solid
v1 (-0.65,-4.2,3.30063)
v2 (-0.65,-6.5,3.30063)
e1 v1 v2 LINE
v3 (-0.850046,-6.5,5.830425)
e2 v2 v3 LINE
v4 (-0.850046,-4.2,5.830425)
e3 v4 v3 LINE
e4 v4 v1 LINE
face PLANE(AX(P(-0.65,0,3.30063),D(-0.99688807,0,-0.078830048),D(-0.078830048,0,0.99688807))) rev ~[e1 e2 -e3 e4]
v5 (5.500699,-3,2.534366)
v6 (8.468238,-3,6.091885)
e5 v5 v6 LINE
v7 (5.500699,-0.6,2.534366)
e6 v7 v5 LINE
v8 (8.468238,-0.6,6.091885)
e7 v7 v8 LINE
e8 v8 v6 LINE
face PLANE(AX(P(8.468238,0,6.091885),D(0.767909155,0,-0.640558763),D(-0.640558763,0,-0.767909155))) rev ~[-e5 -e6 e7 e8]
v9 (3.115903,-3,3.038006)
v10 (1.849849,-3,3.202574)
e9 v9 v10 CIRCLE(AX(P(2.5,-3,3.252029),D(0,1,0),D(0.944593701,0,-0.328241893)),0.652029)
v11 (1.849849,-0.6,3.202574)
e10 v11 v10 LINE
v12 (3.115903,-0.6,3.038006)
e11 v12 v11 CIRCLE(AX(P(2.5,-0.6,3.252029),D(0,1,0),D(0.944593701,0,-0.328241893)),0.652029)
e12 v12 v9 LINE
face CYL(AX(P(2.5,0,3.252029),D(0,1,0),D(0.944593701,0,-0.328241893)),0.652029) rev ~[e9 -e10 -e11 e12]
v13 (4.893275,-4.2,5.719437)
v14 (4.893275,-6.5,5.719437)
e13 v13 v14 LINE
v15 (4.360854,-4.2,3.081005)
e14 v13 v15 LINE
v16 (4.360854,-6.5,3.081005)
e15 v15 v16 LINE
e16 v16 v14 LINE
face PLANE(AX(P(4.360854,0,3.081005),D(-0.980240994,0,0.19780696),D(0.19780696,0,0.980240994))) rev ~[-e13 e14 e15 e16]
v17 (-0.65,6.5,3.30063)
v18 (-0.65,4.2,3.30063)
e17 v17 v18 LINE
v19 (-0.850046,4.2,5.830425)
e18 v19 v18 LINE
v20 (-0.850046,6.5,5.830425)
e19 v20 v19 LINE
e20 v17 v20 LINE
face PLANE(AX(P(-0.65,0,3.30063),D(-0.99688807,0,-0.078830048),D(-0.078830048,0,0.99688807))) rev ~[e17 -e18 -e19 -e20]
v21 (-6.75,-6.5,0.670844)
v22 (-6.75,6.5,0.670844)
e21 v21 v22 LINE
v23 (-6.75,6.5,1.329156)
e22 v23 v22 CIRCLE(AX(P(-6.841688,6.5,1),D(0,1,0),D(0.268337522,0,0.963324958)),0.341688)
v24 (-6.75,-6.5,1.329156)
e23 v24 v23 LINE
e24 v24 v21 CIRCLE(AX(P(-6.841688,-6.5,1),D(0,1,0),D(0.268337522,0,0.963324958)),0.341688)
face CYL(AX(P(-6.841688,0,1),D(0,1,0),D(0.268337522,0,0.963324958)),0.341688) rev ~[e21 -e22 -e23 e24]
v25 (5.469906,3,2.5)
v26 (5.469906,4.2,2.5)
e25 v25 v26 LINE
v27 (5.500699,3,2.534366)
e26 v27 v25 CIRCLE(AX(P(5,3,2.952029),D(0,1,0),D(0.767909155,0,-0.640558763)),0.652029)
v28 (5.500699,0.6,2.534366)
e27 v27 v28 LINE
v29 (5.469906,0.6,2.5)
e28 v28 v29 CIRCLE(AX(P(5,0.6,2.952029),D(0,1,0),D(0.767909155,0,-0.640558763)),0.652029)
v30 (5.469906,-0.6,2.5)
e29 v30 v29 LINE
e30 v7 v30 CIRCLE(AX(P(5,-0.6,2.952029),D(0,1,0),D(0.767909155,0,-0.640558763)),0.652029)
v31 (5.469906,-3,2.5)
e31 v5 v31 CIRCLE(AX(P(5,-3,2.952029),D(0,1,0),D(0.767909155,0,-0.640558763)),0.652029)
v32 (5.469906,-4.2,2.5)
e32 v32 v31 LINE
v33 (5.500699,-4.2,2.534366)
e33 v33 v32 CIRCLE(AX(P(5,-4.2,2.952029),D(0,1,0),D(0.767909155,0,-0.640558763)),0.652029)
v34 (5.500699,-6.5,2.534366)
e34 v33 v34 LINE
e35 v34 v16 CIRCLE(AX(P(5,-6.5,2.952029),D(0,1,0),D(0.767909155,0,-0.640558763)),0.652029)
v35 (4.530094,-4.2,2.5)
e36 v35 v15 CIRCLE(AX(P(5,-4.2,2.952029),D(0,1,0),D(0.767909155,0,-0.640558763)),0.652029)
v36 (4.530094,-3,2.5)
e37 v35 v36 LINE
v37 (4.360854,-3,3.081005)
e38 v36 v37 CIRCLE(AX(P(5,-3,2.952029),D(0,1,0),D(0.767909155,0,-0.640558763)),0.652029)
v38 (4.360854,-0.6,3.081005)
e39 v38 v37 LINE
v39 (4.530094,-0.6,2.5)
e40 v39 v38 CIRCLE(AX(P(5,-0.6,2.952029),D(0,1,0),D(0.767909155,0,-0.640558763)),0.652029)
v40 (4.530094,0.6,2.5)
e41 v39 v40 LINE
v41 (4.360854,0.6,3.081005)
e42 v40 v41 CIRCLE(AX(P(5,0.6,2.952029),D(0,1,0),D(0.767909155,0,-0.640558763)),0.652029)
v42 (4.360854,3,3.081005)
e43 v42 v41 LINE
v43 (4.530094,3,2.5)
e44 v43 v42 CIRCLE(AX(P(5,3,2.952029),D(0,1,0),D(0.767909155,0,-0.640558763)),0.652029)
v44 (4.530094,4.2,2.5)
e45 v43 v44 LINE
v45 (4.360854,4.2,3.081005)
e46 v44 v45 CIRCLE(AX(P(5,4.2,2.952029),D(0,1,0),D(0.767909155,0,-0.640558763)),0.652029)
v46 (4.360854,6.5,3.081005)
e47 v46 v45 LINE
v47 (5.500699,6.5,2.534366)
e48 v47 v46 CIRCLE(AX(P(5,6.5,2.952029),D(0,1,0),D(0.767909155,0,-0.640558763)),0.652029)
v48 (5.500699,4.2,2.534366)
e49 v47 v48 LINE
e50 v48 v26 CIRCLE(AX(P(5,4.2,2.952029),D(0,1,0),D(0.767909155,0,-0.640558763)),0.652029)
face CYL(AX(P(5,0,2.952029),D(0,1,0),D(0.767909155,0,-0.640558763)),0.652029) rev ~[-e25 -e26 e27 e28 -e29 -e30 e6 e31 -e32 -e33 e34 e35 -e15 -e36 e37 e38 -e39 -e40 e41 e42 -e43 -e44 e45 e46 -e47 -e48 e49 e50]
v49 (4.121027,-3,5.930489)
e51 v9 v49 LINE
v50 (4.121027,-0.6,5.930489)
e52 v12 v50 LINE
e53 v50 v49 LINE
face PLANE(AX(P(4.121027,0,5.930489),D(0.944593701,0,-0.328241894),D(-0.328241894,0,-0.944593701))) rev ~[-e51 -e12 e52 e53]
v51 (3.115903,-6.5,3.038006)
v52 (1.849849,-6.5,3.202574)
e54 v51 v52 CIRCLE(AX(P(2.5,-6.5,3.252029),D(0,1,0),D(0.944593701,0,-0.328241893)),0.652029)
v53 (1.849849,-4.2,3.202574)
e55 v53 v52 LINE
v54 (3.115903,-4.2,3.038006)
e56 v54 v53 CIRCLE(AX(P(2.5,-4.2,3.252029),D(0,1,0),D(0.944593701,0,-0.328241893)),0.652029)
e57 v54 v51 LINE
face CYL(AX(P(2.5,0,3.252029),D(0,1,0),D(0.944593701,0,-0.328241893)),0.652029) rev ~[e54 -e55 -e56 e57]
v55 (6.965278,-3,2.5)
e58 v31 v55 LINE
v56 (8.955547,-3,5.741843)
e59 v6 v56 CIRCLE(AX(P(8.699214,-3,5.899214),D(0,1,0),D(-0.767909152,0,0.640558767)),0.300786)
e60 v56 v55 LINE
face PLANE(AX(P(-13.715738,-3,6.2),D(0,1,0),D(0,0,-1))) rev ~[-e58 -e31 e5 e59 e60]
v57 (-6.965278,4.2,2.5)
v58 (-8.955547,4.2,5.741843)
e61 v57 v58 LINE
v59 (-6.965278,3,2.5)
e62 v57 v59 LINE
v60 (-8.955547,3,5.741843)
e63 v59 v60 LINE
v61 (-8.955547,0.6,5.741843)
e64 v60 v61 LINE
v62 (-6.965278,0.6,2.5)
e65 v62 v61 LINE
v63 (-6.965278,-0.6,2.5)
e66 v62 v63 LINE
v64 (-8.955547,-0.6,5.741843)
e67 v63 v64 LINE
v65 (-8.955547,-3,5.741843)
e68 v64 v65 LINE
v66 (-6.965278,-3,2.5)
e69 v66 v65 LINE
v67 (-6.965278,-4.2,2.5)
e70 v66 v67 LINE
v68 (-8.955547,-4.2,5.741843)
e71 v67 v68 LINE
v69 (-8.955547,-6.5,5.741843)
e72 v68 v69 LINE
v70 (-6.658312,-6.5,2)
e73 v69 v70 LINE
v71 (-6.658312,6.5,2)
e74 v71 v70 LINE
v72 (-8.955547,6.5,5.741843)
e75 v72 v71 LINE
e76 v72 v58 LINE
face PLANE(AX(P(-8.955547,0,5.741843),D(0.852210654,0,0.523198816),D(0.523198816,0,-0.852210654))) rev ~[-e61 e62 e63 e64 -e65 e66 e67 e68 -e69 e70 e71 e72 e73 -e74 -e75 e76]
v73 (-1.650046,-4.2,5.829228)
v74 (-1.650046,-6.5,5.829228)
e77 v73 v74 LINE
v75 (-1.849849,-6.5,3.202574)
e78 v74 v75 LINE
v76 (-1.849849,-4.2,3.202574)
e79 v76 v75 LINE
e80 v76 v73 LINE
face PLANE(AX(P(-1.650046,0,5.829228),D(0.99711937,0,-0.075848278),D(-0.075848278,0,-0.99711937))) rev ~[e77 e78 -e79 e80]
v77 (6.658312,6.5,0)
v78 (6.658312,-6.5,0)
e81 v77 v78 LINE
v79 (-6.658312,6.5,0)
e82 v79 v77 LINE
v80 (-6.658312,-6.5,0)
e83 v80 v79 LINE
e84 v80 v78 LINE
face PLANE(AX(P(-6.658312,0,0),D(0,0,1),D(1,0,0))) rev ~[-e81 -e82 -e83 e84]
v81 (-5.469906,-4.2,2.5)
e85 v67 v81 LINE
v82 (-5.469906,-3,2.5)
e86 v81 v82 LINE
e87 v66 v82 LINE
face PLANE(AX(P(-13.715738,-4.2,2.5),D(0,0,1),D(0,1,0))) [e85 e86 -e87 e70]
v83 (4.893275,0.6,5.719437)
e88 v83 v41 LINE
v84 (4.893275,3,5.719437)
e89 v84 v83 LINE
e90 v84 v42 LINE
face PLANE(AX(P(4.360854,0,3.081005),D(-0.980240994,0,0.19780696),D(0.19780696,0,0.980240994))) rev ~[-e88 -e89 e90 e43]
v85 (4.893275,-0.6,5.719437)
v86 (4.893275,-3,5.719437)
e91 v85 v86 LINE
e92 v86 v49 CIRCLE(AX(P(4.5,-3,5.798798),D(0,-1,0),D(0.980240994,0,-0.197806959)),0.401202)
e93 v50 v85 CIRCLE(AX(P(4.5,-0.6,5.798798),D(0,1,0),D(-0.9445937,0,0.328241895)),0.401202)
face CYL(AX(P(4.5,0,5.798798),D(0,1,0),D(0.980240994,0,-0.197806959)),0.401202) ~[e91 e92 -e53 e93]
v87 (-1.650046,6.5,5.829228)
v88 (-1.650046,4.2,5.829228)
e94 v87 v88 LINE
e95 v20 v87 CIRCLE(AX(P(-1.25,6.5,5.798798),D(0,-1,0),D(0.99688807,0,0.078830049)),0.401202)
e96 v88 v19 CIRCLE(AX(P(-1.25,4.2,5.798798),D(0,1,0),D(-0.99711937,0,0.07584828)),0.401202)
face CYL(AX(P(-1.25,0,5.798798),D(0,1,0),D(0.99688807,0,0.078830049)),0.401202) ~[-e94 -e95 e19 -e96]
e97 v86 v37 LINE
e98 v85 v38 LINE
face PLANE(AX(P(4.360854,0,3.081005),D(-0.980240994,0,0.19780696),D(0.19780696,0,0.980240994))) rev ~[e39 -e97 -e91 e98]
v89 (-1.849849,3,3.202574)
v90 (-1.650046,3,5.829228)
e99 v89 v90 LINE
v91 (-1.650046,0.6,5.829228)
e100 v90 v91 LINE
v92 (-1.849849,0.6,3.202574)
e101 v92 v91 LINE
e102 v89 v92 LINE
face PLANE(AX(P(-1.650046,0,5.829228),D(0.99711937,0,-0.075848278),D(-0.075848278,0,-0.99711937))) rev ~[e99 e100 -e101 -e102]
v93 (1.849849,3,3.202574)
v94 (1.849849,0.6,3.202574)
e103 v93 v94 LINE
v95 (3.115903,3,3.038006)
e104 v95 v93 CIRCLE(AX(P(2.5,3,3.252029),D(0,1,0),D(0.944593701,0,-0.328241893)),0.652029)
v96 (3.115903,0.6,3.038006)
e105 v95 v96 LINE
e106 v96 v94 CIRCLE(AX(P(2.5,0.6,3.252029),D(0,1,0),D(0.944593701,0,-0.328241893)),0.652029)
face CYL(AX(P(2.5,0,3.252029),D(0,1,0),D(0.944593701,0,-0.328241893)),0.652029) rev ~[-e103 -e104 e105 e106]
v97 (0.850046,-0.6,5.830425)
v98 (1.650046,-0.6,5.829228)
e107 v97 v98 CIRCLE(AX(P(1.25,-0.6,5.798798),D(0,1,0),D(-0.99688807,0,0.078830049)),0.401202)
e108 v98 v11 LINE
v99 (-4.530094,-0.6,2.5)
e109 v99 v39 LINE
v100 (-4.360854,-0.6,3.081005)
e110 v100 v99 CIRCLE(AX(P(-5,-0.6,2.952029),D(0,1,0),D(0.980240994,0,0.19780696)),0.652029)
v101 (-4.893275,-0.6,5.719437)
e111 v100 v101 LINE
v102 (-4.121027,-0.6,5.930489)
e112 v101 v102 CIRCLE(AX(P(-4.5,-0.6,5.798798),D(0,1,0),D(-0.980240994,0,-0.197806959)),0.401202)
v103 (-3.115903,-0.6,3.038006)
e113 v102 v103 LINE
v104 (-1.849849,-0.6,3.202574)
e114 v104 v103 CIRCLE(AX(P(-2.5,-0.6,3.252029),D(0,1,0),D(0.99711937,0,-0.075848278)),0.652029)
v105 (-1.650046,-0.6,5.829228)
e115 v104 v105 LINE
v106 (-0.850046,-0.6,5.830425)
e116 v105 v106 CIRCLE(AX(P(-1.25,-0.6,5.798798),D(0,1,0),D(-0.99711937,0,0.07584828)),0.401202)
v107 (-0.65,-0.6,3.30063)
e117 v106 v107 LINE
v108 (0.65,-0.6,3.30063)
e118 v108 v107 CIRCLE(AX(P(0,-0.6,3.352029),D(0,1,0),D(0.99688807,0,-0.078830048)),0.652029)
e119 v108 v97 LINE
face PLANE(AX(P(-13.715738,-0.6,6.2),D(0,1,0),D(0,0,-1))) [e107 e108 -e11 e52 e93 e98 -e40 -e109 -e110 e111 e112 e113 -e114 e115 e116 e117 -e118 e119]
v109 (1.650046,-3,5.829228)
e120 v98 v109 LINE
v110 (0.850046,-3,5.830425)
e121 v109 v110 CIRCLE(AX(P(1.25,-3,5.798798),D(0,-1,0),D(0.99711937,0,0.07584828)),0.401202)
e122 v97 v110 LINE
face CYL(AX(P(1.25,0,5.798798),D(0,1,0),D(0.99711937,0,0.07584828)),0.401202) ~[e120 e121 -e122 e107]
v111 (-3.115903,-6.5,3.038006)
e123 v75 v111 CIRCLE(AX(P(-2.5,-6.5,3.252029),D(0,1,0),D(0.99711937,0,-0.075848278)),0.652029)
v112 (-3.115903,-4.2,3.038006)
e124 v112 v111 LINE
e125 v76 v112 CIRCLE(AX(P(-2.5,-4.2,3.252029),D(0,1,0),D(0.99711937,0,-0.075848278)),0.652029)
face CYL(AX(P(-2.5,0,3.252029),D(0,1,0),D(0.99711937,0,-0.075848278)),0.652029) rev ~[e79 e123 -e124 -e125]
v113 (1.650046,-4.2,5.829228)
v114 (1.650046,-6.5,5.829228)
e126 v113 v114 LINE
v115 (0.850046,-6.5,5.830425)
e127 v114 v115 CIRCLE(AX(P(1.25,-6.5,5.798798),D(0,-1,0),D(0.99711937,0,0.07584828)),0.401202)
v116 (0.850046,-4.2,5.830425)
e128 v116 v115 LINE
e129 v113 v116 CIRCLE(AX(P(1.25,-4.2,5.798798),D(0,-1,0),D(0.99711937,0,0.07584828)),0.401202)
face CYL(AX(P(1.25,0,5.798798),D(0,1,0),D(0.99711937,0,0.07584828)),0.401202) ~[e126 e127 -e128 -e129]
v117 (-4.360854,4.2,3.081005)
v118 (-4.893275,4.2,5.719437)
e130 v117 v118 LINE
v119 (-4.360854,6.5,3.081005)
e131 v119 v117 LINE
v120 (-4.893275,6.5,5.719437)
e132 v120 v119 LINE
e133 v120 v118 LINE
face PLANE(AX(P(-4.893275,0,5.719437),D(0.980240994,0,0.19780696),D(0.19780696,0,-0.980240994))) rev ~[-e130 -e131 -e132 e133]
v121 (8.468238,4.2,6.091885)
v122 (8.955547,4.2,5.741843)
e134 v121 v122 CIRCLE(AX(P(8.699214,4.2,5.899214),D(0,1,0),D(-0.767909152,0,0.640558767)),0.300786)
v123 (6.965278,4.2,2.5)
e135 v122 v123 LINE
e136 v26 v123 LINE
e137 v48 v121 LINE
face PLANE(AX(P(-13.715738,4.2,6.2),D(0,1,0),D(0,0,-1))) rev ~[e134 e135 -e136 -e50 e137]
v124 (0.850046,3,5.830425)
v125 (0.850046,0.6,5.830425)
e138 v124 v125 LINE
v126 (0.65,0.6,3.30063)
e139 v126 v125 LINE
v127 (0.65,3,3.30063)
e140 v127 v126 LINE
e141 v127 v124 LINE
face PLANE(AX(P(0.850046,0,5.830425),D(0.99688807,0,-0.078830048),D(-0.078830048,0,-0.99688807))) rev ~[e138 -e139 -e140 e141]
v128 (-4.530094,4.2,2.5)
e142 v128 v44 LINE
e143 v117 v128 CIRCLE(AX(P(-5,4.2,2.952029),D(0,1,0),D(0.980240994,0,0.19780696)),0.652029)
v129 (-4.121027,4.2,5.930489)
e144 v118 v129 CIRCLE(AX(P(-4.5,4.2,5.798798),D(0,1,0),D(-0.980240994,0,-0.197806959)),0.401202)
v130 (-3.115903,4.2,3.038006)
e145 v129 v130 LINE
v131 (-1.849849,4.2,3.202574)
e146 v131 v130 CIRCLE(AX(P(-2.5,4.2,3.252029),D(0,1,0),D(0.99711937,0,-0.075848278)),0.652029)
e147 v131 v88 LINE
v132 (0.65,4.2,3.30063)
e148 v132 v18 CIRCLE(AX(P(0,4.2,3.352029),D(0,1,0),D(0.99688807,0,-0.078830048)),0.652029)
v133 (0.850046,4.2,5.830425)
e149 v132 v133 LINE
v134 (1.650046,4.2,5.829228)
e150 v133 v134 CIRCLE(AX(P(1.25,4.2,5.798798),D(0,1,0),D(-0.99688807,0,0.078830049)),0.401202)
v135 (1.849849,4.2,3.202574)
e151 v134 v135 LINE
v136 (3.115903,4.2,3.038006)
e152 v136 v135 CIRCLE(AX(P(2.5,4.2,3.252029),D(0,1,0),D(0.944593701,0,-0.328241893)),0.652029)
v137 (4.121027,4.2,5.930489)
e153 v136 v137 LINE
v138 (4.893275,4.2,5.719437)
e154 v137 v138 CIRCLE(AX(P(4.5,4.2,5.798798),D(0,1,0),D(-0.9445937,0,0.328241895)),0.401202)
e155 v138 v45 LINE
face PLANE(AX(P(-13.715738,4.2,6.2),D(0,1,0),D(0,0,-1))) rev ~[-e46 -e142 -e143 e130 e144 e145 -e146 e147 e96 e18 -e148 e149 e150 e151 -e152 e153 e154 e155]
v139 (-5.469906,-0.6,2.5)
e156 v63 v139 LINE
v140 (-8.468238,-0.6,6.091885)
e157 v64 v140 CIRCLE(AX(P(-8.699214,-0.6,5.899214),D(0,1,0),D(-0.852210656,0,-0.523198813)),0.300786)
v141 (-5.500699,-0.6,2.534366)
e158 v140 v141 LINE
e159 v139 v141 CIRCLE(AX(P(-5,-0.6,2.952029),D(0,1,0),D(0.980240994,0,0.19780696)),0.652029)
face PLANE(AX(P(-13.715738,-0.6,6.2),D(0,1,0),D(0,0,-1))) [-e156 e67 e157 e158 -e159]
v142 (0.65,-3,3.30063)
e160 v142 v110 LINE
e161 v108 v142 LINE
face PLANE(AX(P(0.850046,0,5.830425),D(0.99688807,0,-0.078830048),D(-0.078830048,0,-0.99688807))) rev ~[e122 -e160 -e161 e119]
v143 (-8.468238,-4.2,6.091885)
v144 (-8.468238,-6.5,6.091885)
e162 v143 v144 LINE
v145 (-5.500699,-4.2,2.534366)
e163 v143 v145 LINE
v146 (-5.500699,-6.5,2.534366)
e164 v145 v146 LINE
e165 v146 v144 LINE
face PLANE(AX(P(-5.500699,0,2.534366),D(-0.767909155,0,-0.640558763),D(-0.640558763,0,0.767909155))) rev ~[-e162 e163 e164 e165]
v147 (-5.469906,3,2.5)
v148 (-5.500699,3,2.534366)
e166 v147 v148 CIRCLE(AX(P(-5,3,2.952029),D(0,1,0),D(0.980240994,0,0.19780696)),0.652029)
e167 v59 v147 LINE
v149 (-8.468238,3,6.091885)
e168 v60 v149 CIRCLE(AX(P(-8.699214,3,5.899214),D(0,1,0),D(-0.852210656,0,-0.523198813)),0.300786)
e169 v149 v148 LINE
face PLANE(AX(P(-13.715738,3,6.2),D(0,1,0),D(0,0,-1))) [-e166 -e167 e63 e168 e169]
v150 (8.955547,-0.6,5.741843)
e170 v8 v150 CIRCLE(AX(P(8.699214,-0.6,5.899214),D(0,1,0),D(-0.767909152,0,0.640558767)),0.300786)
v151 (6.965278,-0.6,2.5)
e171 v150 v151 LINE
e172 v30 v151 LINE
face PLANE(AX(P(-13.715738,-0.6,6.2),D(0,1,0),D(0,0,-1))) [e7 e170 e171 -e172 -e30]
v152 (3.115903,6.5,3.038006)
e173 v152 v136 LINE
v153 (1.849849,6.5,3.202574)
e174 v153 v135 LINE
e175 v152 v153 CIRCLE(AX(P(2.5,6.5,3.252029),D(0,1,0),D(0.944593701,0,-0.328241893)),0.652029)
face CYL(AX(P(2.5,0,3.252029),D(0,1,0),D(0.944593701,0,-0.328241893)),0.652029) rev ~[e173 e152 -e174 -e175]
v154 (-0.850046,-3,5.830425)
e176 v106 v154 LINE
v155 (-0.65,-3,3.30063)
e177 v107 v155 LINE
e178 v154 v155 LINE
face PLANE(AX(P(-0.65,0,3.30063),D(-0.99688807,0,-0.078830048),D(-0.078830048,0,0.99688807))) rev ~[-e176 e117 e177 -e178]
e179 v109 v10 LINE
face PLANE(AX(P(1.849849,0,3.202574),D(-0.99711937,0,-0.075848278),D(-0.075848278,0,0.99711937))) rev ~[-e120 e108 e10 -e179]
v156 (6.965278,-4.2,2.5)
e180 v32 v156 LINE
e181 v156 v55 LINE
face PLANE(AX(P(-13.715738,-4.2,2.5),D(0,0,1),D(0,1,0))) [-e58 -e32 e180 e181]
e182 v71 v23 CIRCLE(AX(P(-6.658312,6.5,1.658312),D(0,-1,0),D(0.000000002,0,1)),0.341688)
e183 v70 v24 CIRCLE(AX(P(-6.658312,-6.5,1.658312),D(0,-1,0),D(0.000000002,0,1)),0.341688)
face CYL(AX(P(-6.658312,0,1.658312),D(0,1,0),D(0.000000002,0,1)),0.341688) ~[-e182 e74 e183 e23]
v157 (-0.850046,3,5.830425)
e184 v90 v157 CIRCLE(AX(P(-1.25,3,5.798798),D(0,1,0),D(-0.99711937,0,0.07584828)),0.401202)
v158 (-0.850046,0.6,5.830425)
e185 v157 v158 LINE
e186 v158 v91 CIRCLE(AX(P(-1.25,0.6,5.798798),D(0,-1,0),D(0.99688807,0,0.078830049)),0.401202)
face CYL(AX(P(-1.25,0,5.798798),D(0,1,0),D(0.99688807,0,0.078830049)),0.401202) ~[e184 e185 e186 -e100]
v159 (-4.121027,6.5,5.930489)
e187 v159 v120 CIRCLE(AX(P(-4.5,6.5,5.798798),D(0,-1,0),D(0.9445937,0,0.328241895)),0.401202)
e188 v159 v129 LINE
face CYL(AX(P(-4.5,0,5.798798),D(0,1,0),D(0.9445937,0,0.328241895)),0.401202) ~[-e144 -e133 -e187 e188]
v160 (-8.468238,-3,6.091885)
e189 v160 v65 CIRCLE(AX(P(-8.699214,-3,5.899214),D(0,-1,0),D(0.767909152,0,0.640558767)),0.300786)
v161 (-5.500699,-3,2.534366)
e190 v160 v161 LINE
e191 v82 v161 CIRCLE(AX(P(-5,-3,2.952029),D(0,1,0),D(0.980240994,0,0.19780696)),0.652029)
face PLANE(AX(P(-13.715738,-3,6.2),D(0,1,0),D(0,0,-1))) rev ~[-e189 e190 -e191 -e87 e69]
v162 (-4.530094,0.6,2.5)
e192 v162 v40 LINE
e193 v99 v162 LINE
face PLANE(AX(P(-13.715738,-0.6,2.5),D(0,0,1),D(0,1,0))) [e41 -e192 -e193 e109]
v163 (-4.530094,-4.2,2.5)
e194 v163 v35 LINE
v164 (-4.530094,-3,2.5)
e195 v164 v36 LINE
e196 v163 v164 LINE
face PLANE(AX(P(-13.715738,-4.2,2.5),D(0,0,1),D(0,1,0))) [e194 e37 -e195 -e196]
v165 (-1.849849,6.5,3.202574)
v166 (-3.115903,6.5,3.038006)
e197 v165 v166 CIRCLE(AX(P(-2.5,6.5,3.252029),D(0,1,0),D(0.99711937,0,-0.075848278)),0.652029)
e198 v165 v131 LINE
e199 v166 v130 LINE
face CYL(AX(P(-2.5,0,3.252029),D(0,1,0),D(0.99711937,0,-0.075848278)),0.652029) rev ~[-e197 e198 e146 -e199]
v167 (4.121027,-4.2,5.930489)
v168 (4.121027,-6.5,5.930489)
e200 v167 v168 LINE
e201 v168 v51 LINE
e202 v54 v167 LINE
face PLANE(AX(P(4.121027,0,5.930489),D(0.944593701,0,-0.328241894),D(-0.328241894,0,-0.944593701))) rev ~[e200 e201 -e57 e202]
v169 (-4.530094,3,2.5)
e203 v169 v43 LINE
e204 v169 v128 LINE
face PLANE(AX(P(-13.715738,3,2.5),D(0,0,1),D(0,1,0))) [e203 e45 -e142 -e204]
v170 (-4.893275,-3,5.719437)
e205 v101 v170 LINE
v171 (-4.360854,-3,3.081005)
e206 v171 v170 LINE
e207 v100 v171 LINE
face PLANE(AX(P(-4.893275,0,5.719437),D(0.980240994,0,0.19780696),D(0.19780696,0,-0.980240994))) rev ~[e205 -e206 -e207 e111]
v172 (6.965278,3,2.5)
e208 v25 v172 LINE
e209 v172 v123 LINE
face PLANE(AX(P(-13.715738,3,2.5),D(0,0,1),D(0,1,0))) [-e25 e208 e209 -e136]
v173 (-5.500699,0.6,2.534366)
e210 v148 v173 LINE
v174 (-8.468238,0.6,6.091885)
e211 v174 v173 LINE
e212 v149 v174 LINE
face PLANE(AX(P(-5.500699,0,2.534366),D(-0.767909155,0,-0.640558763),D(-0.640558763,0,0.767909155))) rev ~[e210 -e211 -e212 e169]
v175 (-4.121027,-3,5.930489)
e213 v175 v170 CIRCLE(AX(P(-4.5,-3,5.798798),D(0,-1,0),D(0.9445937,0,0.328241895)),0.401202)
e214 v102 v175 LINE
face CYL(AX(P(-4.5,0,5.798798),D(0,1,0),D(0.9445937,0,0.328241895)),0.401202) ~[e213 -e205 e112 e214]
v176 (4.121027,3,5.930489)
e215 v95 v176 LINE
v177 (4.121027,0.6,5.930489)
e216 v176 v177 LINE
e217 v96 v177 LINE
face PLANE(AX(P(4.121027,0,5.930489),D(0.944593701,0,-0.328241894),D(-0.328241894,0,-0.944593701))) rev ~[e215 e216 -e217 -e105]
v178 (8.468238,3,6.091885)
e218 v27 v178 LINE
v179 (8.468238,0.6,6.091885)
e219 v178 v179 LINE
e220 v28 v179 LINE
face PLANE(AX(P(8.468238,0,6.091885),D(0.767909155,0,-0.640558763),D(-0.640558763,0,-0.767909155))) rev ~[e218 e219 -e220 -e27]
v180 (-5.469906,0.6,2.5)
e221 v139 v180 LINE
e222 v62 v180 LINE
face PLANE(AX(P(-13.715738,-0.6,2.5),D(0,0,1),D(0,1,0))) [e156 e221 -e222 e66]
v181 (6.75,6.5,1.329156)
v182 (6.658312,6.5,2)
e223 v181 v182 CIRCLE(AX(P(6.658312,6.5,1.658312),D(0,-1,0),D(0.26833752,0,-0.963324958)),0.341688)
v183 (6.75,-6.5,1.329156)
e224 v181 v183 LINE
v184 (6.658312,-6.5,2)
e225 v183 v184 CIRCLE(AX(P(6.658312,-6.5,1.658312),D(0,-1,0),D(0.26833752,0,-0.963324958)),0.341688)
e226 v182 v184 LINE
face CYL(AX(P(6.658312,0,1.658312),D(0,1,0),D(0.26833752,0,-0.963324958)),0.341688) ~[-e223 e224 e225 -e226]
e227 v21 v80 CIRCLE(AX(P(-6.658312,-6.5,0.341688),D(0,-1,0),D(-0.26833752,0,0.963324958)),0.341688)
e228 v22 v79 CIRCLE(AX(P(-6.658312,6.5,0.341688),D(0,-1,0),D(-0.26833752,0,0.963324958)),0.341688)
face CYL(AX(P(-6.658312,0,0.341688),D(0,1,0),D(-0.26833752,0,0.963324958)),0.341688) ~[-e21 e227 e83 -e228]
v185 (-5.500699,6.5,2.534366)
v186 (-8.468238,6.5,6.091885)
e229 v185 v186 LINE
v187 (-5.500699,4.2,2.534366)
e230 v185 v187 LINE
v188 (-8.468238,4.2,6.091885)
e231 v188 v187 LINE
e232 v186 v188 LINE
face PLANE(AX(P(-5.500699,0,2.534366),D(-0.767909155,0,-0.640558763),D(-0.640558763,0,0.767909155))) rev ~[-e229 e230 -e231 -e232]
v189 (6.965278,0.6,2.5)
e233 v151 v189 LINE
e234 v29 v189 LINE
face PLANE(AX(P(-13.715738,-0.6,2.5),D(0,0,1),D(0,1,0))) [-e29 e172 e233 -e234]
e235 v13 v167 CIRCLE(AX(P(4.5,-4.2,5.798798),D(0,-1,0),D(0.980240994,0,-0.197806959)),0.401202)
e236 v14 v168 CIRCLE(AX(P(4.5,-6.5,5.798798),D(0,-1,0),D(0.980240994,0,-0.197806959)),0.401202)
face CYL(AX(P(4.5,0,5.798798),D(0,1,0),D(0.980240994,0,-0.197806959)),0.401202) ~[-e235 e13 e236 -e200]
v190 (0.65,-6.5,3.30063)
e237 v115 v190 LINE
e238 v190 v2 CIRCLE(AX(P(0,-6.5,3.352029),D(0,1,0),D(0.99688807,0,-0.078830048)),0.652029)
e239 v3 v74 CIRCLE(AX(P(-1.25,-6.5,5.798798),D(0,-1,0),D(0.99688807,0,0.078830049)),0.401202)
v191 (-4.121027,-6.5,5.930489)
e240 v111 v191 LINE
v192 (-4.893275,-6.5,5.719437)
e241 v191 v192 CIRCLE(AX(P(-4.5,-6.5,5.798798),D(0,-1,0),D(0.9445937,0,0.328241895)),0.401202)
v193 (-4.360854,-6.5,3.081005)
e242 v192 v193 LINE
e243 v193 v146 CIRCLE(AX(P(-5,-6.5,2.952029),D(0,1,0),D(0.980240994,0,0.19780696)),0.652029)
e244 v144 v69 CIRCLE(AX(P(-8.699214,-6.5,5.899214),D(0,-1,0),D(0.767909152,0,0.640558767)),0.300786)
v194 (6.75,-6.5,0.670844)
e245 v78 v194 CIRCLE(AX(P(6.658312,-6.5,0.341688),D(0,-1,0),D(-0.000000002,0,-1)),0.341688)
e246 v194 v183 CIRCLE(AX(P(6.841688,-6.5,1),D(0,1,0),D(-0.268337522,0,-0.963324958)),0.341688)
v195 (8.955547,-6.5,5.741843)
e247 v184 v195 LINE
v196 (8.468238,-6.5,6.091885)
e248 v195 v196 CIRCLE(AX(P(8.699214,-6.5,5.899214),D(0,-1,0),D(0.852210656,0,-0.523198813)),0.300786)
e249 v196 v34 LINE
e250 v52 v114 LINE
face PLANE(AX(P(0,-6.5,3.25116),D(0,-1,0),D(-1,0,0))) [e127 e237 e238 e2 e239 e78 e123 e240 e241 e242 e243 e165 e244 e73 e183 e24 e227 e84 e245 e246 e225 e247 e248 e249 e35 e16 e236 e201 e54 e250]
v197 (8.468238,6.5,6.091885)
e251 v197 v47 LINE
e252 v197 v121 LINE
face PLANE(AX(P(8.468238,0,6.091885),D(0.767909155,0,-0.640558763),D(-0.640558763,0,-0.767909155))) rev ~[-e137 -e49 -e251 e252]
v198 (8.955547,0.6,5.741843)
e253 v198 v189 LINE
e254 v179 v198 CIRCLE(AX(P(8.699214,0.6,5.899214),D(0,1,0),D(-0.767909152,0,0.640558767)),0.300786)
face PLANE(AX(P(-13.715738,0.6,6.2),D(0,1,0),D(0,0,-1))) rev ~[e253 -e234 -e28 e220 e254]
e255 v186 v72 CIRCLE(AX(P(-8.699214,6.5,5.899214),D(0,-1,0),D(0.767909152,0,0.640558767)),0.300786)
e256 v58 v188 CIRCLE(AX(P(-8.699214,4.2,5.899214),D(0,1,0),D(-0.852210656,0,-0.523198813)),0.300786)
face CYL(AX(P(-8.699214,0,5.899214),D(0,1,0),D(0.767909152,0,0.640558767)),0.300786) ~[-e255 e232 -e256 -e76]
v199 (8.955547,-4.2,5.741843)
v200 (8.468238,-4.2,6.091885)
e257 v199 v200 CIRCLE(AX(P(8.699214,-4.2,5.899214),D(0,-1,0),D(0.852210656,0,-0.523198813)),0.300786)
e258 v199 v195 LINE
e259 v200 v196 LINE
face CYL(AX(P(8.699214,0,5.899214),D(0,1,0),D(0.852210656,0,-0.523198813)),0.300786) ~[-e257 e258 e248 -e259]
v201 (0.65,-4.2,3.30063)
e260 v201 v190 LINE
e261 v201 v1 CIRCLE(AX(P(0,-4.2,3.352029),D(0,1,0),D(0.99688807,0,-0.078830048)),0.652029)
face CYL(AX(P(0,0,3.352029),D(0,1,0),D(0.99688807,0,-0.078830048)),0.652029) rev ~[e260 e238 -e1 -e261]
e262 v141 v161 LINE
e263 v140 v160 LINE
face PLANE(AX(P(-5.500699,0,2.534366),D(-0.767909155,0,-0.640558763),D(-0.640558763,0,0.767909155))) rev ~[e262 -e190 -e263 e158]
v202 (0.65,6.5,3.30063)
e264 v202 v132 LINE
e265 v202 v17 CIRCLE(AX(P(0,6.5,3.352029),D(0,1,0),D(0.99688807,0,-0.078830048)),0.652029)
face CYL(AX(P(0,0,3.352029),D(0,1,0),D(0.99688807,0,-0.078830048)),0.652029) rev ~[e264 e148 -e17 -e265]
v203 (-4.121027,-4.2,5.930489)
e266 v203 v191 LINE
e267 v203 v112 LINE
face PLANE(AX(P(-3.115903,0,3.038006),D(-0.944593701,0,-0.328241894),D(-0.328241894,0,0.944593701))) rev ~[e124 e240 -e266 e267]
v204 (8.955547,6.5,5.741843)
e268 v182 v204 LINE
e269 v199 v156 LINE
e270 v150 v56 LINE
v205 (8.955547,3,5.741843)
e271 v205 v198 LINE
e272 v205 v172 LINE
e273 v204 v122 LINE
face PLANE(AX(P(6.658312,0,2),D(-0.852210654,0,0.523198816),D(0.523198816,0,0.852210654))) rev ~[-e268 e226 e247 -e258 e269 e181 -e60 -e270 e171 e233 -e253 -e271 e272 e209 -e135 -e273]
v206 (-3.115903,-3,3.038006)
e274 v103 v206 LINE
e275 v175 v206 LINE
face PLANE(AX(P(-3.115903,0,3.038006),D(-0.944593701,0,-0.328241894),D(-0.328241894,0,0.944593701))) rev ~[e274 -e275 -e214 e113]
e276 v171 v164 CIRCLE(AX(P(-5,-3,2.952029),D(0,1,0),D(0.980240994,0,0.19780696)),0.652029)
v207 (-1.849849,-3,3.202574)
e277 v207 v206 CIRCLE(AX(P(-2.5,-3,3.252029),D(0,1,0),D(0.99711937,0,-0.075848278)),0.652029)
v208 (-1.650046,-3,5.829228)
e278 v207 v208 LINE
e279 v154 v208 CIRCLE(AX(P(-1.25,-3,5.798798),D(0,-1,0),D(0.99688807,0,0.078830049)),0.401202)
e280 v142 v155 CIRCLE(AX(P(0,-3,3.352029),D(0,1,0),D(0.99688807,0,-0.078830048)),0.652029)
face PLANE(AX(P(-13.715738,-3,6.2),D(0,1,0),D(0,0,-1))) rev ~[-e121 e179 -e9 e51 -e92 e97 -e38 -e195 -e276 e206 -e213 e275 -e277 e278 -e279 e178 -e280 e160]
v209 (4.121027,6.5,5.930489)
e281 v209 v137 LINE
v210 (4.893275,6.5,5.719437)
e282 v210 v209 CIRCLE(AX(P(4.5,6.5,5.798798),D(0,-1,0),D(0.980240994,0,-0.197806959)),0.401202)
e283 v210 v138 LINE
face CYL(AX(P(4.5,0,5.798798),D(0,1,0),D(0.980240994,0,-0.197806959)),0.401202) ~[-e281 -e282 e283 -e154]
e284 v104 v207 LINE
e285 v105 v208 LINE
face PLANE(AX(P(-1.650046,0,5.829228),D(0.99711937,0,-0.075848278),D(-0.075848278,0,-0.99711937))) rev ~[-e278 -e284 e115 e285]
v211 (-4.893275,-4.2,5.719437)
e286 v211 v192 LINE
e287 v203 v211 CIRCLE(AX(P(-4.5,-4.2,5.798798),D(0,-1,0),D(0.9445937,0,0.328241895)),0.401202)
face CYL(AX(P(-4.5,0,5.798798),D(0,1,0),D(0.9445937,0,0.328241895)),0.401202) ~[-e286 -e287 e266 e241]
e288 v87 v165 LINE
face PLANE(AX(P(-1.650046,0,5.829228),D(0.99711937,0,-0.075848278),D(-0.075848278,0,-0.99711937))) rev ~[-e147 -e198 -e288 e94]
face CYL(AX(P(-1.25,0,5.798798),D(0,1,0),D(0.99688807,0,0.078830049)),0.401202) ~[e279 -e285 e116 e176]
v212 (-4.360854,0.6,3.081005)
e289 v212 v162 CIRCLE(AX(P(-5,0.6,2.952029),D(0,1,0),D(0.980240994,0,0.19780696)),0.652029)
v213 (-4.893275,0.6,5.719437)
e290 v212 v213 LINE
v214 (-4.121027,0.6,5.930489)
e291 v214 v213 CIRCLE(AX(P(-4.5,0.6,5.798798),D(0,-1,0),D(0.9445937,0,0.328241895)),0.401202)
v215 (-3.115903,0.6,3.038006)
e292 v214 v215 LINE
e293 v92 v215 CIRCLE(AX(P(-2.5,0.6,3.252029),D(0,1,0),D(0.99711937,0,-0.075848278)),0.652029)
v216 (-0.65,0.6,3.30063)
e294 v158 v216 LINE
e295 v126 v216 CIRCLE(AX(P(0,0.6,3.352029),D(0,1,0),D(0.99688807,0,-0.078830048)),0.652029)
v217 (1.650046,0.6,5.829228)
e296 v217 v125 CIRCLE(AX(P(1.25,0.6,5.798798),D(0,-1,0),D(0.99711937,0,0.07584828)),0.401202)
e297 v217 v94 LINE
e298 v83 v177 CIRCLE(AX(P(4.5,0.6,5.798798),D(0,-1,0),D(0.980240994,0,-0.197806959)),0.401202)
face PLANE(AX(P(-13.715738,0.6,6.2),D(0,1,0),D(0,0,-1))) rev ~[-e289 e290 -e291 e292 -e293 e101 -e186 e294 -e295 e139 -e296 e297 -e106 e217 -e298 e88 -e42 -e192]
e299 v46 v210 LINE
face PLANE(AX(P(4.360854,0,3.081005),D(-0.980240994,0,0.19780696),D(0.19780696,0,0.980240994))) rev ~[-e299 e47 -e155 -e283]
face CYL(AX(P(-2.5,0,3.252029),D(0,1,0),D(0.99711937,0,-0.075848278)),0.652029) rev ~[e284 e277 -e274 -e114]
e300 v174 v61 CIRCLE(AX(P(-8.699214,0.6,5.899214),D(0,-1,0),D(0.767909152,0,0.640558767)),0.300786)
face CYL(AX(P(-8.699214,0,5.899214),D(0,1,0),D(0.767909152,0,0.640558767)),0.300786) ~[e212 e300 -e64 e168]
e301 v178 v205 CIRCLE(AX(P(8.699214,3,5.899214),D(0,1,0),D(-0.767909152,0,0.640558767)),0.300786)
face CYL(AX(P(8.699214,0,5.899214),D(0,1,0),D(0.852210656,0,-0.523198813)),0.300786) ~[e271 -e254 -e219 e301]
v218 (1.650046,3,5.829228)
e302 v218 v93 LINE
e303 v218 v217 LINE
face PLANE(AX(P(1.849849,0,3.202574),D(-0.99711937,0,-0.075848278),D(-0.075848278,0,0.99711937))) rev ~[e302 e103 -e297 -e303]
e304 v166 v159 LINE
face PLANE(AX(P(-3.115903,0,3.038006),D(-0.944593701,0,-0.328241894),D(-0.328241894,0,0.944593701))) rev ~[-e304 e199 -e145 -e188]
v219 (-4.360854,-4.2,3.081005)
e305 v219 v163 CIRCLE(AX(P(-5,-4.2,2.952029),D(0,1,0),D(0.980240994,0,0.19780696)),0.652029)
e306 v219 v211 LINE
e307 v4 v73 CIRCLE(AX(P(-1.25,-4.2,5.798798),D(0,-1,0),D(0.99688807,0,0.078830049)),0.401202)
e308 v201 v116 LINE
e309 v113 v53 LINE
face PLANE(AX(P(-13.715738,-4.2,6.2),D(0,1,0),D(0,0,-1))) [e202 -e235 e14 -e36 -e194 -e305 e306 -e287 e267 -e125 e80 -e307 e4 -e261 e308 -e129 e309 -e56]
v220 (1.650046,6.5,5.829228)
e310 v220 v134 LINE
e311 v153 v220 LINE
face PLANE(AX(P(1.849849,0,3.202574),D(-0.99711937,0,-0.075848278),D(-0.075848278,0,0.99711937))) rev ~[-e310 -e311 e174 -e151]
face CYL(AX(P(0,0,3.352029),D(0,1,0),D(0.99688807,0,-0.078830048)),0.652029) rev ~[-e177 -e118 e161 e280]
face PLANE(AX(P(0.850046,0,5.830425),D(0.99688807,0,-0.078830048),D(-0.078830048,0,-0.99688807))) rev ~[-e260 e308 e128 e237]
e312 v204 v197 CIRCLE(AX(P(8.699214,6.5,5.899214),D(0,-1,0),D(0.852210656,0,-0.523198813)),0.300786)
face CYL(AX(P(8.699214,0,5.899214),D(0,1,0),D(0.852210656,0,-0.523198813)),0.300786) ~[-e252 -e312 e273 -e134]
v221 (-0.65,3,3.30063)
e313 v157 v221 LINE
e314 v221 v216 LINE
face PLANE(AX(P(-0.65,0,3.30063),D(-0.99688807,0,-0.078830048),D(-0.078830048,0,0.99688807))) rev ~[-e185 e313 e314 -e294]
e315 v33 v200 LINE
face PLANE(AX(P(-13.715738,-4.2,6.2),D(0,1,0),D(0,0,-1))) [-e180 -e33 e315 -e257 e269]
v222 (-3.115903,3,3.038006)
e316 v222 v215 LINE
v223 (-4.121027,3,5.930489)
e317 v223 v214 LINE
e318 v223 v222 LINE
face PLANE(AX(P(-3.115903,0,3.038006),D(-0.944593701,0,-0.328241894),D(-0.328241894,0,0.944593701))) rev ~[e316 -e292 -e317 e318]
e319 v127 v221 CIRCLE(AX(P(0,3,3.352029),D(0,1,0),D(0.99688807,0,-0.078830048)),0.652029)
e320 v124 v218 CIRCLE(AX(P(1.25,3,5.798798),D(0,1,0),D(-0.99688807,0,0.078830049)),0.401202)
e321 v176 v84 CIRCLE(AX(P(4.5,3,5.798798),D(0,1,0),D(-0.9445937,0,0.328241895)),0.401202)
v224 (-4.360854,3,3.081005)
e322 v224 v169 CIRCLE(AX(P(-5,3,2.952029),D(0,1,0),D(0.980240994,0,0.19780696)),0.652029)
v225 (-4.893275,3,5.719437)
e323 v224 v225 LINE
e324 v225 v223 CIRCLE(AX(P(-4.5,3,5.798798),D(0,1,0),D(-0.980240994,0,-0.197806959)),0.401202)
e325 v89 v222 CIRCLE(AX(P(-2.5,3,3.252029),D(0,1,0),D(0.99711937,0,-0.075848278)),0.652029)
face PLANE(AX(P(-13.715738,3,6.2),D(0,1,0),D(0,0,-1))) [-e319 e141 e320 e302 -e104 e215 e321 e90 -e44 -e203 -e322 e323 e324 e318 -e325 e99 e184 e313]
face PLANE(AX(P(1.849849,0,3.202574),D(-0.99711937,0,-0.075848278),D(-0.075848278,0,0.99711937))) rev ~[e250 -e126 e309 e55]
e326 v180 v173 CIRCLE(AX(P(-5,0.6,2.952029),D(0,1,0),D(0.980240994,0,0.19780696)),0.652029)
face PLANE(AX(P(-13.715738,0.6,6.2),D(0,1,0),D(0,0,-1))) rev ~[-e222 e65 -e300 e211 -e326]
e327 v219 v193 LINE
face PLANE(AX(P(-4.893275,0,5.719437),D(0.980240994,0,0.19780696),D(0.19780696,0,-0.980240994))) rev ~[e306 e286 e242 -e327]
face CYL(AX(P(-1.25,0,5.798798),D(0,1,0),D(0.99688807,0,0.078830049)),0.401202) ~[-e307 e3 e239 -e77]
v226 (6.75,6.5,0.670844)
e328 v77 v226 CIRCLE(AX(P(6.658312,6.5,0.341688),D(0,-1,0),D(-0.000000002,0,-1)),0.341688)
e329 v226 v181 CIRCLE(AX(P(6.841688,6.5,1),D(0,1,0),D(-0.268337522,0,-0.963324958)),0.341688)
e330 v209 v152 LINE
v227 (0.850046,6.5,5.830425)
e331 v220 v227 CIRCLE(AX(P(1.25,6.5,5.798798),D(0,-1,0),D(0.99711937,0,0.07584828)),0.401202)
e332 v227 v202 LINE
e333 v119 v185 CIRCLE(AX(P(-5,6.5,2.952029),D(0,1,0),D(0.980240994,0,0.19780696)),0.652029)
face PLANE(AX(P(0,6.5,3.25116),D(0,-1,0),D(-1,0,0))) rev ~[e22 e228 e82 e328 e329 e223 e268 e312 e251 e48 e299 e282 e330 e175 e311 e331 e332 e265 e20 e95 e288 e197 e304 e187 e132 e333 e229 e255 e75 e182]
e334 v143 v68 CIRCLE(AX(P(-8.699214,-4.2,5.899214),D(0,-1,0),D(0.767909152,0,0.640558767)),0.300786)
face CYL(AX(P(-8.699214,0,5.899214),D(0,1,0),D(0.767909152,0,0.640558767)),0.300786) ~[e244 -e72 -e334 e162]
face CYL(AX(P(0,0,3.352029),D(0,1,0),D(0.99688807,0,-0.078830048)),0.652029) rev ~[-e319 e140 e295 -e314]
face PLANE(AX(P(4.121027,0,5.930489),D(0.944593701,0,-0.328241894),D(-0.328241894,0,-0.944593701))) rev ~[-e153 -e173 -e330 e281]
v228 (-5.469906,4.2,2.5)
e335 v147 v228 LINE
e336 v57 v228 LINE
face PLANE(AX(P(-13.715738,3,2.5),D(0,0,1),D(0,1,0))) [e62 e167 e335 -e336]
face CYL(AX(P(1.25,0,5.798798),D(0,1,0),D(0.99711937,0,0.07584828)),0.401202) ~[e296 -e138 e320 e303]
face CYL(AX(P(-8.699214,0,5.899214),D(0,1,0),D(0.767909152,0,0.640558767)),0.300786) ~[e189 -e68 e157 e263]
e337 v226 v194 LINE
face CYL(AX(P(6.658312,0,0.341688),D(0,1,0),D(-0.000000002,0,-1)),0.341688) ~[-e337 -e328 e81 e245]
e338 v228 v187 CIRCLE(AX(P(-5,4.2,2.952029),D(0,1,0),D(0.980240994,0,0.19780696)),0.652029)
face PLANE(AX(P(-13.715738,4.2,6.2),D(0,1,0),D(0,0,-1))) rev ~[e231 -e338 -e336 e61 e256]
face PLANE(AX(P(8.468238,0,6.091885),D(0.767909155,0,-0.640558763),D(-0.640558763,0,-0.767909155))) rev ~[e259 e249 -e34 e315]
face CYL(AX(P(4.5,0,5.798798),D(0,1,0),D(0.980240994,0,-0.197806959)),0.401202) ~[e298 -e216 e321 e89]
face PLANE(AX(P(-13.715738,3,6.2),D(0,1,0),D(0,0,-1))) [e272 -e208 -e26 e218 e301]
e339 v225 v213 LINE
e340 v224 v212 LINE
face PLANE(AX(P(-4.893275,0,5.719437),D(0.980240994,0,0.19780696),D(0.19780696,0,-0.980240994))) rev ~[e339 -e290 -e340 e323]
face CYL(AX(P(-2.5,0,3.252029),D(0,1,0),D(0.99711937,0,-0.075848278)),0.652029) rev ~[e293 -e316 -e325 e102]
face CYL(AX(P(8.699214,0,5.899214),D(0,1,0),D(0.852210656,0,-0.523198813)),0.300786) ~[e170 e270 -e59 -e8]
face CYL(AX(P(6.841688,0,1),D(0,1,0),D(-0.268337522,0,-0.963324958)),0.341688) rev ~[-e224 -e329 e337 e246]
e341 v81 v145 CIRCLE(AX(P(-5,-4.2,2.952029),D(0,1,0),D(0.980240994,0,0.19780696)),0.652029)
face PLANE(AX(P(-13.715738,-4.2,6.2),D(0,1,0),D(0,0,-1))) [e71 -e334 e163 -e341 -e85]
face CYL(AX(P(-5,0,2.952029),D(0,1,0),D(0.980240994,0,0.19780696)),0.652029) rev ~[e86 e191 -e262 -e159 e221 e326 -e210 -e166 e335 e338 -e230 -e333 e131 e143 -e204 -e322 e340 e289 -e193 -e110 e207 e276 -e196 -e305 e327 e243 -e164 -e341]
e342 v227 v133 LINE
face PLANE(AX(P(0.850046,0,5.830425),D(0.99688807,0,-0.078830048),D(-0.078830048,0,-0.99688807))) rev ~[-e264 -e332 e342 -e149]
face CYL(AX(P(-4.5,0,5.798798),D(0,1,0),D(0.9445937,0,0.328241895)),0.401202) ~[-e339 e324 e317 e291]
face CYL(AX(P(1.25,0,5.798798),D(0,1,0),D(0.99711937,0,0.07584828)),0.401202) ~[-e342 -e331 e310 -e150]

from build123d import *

# Parameters (mm, degrees)
EXTRUDE_1_DEPTH          = 6.5
CUT_EXTRUDE_1_DEPTH      = 13.71573828
CUT_EXTRUDE_1_DEPTH_BACK = 13.71573828
SKETCH_2_W               = 3.7
SKETCH_2_H               = 1.2


with BuildPart() as part:
    # Эскиз1 → Бобышка-Вытянуть1 (new, symmetric)
    with BuildSketch(Plane(origin=(0, 0, 0), x_dir=(1, 0, 0), z_dir=(0, 1, 0))):
        with BuildLine():
            Line((-6.658312395, 0), (6.658312395, 0))
            ThreePointArc((6.658312395, 0), (6.996852653, -0.295417601), (6.75, -0.670843802))
            ThreePointArc((6.75, -0.670843802), (6.5, -1), (6.75, -1.329156198))
            ThreePointArc((6.75, -1.329156198), (6.996852653, -1.704582399), (6.658312395, -2))
            Line((6.658312395, -2), (8.955547022, -5.741842995))
            ThreePointArc((8.955547022, -5.741842995), (8.874693562, -6.143507105), (8.468237531, -6.091885079))
            Line((8.468237531, -6.091885079), (5.500699092, -2.534366135))
            ThreePointArc((5.500699092, -2.534366135), (4.718050783, -2.364111944), (4.360854377, -3.081004957))
            Line((4.360854377, -3.081004957), (4.893274759, -5.719437316))
            ThreePointArc((4.893274759, -5.719437316), (4.605767966, -6.185807283), (4.121027011, -5.930489228))
            Line((4.121027011, -5.930489228), (3.115902551, -3.038005813))
            ThreePointArc((3.115902551, -3.038005813), (2.415953046, -2.605439542), (1.849849185, -3.202573787))
            Line((1.849849185, -3.202573787), (1.650046399, -5.829228376))
            ThreePointArc((1.650046399, -5.829228376), (1.250599943, -6.199999551), (0.850046399, -5.830424668))
            Line((0.850046399, -5.830424668), (0.65, -3.300629586))
            ThreePointArc((0.65, -3.300629586), (0, -2.7), (-0.65, -3.300629586))
            Line((-0.65, -3.300629586), (-0.850046399, -5.830424668))
            ThreePointArc((-0.850046399, -5.830424668), (-1.250599943, -6.199999551), (-1.650046399, -5.829228376))
            Line((-1.650046399, -5.829228376), (-1.849849185, -3.202573787))
            ThreePointArc((-1.849849185, -3.202573787), (-2.415953046, -2.605439542), (-3.115902551, -3.038005813))
            Line((-3.115902551, -3.038005813), (-4.121027011, -5.930489228))
            ThreePointArc((-4.121027011, -5.930489228), (-4.605767966, -6.185807283), (-4.893274759, -5.719437316))
            Line((-4.893274759, -5.719437316), (-4.360854377, -3.081004957))
            ThreePointArc((-4.360854377, -3.081004957), (-4.718050783, -2.364111944), (-5.500699092, -2.534366135))
            Line((-5.500699092, -2.534366135), (-8.468237531, -6.091885079))
            ThreePointArc((-8.468237531, -6.091885079), (-8.874693562, -6.143507105), (-8.955547022, -5.741842995))
            Line((-8.955547022, -5.741842995), (-6.658312395, -2))
            ThreePointArc((-6.658312395, -2), (-6.996852653, -1.704582399), (-6.75, -1.329156198))
            ThreePointArc((-6.75, -1.329156198), (-6.5, -1), (-6.75, -0.670843802))
            ThreePointArc((-6.75, -0.670843802), (-6.996852653, -0.295417601), (-6.658312395, 0))
        make_face()
    extrude(amount=EXTRUDE_1_DEPTH, both=True)

    # Эскиз2 → Вырез-Вытянуть1 (cut, two sides: drawn at the far end of the back side and taken through both)
    with BuildSketch(Plane(origin=(0, 0, 0), x_dir=(0, 0, -1), z_dir=(1, 0, 0)).offset(-CUT_EXTRUDE_1_DEPTH_BACK)):
        with Locations((-4.35, -3.6)):
            Rectangle(SKETCH_2_W, SKETCH_2_H)
        with Locations((-4.35, 0)):
            Rectangle(SKETCH_2_W, SKETCH_2_H)
        with Locations((-4.35, 3.6)):
            Rectangle(SKETCH_2_W, SKETCH_2_H)
    extrude(amount=CUT_EXTRUDE_1_DEPTH + CUT_EXTRUDE_1_DEPTH_BACK, mode=Mode.SUBTRACT)


solid = part.part
